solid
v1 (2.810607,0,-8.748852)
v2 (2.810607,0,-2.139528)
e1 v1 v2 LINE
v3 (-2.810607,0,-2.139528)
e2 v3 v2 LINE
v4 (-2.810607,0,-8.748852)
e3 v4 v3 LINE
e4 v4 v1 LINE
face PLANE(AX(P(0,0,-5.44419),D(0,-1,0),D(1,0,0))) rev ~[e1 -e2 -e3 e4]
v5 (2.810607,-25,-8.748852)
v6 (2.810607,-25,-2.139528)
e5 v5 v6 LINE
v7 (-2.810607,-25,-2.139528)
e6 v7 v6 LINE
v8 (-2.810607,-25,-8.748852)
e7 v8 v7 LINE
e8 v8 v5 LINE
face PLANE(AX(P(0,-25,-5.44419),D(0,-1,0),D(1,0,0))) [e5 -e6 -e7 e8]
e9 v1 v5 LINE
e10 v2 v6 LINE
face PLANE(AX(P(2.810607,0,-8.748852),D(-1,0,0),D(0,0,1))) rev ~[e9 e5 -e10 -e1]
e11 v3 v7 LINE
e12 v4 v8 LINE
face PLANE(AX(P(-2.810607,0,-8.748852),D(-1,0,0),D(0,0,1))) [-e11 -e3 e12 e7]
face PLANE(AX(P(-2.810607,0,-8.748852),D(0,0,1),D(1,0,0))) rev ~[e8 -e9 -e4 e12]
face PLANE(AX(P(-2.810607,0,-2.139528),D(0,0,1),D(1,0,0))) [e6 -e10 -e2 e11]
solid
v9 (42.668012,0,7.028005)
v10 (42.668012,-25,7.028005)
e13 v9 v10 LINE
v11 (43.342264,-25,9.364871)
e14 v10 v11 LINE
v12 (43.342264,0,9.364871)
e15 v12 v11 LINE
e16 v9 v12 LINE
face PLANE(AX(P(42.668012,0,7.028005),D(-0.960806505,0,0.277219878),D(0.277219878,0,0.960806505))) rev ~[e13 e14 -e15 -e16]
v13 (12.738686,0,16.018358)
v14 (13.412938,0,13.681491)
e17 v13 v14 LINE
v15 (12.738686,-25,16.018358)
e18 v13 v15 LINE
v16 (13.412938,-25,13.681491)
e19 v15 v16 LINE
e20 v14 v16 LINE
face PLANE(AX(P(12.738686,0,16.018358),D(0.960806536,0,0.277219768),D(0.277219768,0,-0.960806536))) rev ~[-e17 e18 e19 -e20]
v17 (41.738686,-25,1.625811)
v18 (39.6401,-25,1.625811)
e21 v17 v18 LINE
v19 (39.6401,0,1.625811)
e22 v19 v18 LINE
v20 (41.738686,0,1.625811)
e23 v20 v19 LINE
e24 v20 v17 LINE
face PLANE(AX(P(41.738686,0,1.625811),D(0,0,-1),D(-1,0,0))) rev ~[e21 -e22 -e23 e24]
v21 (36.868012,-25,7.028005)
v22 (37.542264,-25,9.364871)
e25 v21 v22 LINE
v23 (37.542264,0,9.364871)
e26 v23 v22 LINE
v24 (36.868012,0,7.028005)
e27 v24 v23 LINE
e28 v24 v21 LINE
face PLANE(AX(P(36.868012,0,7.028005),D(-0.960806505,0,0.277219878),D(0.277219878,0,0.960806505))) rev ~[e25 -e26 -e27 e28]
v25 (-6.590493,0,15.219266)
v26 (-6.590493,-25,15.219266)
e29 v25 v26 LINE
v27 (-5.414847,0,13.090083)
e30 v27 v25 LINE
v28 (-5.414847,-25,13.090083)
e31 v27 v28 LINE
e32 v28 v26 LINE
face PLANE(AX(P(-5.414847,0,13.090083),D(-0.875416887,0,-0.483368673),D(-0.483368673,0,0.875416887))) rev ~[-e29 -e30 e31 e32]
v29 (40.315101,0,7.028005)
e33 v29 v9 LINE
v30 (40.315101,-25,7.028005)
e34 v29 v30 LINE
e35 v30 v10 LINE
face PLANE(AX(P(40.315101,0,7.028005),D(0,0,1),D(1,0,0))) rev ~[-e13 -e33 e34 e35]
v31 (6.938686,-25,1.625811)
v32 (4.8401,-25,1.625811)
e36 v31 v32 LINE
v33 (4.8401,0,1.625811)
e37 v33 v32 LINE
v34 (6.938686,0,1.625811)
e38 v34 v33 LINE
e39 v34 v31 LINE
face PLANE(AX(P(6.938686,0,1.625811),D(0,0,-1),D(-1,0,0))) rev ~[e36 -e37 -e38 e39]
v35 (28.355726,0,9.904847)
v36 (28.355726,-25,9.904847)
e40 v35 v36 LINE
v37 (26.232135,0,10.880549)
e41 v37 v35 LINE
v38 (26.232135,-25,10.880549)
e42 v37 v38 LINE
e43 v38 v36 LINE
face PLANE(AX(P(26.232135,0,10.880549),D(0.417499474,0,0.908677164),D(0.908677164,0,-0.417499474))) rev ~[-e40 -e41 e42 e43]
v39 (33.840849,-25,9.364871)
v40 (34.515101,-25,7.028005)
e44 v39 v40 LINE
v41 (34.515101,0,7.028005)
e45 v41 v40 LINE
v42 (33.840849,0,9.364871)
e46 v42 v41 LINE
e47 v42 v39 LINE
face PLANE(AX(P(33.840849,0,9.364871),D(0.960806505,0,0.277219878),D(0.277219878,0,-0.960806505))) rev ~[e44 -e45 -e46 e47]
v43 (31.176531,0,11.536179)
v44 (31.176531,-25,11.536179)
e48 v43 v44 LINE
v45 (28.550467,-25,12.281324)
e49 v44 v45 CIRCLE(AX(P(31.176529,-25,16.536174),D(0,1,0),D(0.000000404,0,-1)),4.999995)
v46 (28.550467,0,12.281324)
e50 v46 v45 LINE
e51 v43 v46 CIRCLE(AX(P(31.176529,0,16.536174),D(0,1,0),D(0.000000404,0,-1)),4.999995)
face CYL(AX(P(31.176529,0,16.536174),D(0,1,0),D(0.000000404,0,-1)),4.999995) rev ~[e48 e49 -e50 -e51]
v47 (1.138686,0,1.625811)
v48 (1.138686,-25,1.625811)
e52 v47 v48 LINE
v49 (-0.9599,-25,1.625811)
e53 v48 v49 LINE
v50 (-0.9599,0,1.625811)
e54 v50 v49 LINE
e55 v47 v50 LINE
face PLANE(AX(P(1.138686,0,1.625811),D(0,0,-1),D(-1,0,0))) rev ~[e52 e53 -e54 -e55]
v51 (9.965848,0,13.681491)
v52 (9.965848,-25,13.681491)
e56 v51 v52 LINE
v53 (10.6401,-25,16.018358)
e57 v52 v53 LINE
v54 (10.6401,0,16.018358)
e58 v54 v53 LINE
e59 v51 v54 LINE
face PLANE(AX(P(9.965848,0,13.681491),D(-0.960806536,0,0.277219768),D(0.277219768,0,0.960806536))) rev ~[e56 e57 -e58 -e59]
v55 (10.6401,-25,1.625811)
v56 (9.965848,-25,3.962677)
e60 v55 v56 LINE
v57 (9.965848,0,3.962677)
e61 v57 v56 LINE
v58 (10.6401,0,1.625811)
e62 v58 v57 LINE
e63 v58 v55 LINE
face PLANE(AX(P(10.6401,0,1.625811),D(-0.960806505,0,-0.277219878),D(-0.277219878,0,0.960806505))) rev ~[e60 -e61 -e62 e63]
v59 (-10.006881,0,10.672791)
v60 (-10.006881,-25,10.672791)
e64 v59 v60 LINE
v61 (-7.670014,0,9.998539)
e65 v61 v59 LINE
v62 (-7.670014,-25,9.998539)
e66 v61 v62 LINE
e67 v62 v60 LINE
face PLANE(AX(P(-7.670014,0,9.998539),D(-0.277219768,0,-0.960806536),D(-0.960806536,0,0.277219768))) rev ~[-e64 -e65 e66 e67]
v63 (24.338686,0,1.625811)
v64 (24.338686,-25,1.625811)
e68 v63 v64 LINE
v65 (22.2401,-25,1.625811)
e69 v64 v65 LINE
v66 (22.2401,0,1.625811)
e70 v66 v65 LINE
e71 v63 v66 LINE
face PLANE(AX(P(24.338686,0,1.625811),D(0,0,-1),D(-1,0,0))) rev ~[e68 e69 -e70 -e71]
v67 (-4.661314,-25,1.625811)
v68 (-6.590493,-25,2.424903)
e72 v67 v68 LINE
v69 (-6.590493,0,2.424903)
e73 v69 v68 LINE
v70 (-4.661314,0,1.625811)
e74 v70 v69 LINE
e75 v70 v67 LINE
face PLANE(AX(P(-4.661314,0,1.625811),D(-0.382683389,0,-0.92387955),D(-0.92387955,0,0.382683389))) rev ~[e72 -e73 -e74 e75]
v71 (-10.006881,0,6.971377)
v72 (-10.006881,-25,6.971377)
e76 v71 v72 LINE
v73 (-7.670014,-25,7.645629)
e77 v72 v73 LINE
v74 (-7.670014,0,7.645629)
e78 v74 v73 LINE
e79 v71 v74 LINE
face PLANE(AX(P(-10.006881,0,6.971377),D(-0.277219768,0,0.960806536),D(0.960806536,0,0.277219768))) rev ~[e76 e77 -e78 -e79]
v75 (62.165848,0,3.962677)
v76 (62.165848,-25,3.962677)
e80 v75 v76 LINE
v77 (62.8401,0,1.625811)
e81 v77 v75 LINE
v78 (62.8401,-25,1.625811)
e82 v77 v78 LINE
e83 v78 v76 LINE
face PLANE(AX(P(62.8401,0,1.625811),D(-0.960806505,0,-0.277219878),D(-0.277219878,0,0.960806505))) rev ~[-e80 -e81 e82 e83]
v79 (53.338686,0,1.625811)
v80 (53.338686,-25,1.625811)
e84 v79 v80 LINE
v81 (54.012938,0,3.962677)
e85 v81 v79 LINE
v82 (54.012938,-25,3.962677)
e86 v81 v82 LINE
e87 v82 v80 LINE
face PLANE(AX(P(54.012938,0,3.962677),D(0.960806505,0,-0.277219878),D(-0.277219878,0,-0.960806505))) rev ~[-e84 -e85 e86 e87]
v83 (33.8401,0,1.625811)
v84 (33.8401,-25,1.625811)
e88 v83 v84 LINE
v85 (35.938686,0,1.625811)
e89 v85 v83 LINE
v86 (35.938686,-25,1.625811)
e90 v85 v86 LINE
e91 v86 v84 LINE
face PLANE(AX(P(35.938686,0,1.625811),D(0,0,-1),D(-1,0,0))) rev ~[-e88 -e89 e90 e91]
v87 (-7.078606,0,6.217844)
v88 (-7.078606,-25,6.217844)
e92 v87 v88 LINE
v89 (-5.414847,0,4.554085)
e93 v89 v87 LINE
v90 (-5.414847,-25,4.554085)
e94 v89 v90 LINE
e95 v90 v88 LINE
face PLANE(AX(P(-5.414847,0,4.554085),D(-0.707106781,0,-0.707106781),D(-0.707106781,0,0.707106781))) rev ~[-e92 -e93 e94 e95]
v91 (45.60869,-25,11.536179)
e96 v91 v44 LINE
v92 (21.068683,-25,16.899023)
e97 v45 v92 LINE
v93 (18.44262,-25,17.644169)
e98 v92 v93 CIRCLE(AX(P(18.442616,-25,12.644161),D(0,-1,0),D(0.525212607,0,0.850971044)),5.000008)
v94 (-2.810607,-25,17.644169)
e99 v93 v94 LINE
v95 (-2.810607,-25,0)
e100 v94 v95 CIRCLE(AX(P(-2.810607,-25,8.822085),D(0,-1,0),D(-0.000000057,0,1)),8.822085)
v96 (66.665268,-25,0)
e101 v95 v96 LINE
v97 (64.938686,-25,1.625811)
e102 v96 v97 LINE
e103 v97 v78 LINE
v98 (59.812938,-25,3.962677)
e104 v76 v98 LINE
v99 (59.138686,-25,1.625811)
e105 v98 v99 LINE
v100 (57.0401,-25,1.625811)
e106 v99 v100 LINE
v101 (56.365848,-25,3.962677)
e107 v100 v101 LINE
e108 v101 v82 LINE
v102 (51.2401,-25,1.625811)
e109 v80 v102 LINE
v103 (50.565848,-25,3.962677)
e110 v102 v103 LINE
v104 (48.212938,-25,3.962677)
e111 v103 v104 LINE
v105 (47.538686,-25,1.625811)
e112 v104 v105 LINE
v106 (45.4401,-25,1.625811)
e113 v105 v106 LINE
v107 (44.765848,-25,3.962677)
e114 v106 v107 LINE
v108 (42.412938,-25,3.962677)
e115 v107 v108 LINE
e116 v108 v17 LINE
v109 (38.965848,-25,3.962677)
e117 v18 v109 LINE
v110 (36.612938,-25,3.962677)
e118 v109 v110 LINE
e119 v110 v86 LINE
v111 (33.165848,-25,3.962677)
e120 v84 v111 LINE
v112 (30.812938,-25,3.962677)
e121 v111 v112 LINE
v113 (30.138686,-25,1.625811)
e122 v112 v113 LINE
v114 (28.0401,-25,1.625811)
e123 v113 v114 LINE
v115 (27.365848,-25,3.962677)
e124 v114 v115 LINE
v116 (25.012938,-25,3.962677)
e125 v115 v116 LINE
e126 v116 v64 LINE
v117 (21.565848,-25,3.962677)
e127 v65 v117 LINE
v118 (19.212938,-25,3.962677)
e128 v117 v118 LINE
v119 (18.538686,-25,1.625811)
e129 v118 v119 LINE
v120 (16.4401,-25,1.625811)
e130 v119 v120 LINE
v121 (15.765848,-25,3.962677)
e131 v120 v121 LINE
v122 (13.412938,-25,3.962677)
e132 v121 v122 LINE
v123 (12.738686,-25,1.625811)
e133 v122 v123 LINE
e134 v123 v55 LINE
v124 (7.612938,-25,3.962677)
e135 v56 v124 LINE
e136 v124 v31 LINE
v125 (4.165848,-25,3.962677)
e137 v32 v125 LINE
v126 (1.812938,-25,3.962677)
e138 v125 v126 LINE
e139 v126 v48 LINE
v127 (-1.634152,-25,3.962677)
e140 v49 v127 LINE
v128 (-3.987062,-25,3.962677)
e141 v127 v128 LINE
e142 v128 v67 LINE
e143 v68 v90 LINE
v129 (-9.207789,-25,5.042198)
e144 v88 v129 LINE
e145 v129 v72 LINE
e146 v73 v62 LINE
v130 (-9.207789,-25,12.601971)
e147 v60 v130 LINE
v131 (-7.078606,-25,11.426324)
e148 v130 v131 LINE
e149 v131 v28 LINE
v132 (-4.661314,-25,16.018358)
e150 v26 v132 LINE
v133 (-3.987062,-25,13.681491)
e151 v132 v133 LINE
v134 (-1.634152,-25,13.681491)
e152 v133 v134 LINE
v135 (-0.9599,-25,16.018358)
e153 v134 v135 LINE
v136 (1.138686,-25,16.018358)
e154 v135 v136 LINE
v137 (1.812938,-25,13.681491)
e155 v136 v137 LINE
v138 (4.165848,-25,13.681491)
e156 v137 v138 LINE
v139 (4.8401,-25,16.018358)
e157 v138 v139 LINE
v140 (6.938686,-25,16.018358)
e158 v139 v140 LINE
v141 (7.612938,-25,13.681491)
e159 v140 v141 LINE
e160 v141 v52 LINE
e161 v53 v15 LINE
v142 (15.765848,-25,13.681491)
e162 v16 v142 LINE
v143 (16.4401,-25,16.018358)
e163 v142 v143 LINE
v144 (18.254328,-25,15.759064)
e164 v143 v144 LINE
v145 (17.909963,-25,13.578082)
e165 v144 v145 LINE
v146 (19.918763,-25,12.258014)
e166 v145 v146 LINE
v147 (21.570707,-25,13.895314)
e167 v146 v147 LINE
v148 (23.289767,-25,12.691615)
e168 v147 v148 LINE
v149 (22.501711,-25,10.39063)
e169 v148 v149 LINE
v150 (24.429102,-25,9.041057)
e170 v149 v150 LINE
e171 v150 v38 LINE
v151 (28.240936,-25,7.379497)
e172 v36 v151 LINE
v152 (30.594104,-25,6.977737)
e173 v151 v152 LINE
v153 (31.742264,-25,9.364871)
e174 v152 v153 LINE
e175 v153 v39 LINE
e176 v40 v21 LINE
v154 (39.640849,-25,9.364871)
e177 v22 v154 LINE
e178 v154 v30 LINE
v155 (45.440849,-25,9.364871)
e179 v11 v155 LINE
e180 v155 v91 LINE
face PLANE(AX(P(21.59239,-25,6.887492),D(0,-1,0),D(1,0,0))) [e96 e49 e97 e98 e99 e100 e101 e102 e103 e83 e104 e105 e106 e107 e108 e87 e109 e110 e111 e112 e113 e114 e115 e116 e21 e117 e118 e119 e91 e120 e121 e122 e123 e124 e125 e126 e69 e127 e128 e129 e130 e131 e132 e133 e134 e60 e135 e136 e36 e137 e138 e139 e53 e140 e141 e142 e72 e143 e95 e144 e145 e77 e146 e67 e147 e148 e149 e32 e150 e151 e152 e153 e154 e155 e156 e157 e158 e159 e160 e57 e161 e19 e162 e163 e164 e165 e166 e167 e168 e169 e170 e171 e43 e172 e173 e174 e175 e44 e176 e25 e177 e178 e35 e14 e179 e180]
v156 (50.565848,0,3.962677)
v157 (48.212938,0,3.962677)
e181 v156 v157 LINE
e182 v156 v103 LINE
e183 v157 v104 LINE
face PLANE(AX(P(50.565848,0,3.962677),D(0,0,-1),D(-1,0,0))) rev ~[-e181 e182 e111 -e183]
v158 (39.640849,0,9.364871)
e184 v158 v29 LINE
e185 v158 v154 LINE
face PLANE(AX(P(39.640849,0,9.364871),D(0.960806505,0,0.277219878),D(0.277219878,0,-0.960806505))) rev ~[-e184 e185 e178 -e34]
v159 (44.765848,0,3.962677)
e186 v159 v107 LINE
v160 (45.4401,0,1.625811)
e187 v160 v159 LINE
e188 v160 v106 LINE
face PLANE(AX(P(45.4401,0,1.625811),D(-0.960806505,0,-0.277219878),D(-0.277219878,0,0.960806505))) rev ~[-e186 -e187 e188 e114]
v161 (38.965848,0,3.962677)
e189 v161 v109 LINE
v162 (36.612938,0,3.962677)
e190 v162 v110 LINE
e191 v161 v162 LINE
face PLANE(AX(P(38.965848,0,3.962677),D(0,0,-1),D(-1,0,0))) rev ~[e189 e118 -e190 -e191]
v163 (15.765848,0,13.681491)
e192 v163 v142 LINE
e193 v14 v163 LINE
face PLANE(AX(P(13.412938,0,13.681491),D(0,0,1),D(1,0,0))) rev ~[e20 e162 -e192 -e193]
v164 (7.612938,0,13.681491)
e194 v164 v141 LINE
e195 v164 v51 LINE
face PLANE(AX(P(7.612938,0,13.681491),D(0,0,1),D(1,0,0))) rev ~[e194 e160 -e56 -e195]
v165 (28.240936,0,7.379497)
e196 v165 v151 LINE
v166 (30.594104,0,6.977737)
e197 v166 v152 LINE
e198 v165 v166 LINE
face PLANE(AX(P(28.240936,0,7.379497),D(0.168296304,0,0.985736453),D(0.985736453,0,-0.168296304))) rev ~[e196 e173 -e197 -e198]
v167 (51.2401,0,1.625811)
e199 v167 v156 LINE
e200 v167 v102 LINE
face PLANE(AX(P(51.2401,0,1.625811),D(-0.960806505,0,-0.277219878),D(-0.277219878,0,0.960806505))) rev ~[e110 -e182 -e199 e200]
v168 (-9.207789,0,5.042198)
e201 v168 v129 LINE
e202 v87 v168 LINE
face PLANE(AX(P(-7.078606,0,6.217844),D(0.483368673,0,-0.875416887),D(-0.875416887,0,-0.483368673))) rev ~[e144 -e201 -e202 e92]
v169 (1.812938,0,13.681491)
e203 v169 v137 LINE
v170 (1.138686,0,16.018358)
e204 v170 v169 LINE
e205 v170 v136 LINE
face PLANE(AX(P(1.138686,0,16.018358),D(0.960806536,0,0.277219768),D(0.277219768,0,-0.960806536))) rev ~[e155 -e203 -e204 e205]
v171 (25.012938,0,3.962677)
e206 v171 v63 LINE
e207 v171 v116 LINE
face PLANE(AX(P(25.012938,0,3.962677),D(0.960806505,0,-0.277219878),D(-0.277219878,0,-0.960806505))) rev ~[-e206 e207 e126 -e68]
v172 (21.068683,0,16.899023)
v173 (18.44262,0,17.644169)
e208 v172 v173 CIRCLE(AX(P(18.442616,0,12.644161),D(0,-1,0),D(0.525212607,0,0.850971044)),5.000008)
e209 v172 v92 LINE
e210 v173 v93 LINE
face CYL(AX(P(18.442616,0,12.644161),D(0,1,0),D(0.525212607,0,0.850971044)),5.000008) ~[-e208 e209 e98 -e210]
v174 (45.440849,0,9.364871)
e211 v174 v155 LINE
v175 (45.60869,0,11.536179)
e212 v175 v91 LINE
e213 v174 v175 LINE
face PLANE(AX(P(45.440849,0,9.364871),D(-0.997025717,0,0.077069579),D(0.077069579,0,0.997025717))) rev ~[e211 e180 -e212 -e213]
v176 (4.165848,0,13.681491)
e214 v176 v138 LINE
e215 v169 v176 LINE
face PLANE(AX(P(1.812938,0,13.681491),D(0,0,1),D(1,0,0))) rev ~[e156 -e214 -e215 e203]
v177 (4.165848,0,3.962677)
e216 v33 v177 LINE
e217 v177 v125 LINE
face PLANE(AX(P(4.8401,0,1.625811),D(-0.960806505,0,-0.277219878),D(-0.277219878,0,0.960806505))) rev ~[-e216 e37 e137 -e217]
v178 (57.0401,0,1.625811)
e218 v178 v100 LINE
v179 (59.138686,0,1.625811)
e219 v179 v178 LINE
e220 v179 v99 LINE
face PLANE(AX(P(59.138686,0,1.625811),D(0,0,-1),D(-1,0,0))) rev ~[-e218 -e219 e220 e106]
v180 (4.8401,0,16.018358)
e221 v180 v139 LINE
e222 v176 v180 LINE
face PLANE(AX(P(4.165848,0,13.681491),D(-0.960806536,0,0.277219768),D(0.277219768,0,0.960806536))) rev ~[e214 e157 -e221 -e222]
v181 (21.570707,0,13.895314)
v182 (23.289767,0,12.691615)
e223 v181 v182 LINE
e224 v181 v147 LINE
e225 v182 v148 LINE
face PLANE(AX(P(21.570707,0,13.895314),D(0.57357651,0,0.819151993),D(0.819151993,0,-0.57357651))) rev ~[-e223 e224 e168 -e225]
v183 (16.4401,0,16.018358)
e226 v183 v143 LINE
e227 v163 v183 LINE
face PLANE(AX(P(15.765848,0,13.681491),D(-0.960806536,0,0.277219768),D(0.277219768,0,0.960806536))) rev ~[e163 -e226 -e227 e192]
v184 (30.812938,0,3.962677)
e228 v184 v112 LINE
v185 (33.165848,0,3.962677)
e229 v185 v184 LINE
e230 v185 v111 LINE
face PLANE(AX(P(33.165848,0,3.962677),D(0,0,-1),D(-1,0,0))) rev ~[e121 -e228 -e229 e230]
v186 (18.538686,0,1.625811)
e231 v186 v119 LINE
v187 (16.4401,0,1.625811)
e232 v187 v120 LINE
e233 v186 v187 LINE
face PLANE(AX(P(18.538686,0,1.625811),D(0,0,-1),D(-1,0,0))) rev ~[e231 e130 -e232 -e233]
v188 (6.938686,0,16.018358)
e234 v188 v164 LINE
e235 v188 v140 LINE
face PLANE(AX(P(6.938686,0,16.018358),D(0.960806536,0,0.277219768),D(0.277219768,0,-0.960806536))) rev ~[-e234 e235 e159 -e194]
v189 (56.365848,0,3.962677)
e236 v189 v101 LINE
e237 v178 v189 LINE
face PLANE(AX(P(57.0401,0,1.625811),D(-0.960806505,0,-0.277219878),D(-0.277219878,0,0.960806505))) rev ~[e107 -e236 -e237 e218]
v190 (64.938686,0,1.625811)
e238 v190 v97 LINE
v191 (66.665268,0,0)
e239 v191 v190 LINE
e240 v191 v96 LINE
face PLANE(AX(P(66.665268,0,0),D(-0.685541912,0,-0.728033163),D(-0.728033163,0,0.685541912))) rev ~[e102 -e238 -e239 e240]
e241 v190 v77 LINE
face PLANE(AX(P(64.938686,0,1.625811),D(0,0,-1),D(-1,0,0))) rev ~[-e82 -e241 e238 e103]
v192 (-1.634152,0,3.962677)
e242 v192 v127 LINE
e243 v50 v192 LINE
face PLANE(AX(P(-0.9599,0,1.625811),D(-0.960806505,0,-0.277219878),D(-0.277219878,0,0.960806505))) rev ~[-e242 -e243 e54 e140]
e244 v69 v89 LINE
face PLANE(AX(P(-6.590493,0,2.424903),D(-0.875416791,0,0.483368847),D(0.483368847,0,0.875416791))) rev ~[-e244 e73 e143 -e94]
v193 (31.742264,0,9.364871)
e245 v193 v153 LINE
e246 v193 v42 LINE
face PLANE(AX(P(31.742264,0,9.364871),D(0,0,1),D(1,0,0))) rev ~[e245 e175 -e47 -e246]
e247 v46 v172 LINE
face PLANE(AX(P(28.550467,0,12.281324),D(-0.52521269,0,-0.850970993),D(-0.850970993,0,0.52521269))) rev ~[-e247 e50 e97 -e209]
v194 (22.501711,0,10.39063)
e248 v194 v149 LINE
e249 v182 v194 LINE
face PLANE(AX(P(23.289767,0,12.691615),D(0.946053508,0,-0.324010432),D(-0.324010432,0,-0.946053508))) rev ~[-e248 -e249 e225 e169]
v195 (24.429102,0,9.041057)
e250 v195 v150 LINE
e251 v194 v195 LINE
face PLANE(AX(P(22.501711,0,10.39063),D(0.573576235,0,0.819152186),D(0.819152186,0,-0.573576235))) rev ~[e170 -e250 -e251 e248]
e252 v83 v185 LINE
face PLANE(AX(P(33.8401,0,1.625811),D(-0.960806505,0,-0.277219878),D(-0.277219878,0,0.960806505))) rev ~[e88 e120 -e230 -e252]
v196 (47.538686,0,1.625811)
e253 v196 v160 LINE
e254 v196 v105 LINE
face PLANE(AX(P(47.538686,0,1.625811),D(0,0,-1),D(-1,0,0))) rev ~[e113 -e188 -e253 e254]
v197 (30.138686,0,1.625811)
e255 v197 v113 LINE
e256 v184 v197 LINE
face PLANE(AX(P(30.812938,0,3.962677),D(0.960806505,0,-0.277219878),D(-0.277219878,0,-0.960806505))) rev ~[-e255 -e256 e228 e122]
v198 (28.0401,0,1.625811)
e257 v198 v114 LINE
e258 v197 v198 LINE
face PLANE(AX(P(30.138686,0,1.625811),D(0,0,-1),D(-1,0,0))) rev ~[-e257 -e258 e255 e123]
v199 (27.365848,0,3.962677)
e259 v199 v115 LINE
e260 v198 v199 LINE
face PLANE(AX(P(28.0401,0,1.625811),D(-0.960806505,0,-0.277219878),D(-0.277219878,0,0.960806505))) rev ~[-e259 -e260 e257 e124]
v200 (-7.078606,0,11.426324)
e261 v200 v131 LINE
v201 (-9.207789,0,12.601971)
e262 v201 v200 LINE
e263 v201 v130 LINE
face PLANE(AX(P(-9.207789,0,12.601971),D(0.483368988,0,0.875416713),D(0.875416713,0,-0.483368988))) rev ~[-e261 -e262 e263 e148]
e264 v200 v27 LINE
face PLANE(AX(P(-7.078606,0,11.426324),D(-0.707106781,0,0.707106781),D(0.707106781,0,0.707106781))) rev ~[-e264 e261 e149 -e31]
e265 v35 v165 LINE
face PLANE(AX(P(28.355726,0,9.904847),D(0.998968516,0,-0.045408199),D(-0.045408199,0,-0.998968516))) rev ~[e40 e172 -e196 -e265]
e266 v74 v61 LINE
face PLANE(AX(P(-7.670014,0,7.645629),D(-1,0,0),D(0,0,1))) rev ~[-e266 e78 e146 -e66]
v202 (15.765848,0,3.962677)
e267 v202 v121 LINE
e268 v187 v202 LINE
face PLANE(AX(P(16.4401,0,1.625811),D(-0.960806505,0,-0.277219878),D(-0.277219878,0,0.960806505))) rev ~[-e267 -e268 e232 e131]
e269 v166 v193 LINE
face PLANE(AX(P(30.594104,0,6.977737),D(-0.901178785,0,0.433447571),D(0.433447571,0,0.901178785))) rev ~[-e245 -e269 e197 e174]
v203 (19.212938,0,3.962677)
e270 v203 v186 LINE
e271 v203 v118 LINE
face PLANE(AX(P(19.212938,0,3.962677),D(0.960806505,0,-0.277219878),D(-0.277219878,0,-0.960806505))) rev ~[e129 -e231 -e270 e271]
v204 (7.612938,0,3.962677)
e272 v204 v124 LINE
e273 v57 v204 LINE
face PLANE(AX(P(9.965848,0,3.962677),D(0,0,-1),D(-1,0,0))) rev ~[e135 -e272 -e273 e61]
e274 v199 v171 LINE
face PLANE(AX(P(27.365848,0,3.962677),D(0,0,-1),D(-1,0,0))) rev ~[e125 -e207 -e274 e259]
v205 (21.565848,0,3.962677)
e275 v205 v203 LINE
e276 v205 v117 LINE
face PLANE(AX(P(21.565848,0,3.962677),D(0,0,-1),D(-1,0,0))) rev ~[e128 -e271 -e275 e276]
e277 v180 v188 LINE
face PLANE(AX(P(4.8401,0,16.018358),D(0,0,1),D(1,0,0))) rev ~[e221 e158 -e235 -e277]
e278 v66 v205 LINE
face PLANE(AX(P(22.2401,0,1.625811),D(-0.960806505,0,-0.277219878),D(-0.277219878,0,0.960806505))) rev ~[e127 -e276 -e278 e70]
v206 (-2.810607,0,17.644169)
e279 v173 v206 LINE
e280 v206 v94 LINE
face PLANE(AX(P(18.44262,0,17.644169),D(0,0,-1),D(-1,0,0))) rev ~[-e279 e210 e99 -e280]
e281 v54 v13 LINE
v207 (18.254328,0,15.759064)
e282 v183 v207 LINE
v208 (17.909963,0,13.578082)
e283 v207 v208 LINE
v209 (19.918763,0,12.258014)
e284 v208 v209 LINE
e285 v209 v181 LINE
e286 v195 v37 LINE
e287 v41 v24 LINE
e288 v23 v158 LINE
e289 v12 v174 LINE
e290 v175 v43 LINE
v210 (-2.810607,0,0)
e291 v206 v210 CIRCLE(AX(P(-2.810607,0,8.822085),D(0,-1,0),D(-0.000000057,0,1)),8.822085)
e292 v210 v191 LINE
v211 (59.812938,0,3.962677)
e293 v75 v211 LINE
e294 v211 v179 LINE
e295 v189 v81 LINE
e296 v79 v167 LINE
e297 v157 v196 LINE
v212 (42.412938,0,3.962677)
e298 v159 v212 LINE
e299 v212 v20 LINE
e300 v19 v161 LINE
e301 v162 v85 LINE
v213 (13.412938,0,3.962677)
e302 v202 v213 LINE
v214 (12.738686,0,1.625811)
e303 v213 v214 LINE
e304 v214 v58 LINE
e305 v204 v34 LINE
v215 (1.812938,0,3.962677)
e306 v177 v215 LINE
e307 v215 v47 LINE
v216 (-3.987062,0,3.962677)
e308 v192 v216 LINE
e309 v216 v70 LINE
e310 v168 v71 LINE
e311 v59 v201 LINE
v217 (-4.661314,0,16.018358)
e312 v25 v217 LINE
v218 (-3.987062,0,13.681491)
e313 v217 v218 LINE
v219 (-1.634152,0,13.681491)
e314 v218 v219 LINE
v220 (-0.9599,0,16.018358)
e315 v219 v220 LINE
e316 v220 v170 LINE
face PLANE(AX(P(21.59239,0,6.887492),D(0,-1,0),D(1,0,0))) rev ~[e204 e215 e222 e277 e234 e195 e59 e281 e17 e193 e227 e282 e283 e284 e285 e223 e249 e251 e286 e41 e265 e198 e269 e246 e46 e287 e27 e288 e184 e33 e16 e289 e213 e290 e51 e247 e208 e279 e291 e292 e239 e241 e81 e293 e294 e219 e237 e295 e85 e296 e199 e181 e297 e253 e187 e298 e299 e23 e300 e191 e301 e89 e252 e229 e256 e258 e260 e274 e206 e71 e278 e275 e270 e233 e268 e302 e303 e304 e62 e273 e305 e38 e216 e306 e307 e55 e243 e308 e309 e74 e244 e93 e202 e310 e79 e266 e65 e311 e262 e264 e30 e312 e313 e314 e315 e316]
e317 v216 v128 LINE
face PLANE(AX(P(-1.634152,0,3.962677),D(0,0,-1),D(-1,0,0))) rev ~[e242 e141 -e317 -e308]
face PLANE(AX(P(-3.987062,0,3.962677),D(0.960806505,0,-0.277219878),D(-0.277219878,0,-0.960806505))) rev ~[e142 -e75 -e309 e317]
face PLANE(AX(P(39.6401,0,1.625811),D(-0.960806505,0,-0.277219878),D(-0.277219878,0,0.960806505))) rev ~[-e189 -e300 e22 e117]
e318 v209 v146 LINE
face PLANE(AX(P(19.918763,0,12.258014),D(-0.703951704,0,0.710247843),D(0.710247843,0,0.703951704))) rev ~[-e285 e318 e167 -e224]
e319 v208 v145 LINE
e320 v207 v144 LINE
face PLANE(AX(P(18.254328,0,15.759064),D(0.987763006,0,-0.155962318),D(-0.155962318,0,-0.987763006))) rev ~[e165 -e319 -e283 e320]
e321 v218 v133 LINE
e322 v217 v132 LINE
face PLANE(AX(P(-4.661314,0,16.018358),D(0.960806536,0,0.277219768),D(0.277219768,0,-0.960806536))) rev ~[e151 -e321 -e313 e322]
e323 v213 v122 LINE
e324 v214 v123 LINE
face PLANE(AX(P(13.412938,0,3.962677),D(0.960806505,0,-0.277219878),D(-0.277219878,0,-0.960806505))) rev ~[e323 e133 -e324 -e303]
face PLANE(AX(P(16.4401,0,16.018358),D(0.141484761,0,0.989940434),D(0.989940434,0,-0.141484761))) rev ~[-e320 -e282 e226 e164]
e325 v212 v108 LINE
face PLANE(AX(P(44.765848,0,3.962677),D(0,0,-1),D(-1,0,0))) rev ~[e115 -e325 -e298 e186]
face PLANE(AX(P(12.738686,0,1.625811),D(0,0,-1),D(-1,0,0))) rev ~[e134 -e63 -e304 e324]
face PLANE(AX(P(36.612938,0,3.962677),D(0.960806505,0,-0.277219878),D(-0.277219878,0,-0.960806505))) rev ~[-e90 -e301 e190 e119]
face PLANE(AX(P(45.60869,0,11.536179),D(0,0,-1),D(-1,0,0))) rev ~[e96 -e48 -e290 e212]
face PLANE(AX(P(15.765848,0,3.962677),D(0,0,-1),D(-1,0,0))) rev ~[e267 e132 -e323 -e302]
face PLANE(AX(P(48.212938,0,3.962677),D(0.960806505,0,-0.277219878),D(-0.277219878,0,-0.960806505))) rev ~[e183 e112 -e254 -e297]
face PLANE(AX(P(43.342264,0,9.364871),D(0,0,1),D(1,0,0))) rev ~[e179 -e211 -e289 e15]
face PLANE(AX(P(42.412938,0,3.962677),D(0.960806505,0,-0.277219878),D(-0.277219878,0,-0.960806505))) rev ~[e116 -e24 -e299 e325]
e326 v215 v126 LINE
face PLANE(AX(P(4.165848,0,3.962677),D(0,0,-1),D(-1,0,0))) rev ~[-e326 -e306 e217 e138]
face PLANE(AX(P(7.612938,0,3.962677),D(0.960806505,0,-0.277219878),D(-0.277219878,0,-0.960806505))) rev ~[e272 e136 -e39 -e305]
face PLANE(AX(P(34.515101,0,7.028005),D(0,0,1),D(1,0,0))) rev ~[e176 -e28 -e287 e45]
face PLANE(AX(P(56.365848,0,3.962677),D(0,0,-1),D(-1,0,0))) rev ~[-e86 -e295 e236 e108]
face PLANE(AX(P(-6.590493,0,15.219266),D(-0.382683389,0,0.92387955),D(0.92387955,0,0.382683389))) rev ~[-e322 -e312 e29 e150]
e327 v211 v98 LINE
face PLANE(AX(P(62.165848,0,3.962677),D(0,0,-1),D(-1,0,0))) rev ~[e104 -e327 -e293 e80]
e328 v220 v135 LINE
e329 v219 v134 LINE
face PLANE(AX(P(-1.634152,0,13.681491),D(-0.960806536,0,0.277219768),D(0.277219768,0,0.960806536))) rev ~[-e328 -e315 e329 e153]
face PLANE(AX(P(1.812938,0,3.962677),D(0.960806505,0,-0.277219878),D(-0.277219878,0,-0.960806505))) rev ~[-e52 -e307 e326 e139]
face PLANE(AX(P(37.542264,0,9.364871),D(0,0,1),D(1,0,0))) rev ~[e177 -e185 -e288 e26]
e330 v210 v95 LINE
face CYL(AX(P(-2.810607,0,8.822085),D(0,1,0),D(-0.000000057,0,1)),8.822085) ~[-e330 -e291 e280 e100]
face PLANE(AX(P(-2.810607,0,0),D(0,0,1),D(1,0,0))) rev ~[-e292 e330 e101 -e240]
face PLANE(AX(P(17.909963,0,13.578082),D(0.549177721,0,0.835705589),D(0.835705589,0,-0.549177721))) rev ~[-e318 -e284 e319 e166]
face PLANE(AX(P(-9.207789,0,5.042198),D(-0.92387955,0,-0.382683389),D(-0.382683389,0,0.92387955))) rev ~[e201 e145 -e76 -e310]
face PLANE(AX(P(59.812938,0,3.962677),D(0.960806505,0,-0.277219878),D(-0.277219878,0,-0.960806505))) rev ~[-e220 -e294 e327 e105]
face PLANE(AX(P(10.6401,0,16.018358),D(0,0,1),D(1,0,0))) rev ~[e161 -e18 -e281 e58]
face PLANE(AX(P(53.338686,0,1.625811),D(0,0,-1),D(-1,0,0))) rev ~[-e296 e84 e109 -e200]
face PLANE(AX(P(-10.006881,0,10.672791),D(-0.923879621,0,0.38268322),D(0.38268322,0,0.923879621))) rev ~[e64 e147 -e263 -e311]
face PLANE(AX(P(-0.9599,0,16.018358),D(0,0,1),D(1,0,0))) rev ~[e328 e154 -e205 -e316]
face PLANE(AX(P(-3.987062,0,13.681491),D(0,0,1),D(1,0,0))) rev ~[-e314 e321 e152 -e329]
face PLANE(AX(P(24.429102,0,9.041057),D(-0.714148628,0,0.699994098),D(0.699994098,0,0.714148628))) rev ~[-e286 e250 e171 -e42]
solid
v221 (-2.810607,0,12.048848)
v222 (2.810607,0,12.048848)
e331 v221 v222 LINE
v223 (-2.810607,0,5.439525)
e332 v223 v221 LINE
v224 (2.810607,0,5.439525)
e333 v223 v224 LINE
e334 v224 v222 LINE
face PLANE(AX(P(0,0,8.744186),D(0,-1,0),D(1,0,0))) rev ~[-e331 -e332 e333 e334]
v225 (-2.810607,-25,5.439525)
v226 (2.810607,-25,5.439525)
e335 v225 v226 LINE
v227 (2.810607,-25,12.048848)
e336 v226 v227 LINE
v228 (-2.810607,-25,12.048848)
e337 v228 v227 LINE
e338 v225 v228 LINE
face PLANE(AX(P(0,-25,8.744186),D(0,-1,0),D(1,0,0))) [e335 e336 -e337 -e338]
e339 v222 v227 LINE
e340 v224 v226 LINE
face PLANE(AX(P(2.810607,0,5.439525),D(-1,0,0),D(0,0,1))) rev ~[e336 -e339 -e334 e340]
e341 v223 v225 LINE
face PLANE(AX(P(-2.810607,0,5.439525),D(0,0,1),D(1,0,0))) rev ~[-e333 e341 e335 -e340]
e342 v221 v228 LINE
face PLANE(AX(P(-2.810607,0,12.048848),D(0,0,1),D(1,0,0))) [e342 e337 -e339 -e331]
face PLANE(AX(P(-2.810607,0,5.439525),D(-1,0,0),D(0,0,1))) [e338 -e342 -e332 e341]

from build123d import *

# Parameters (mm, degrees)
F0_W     = 5.621214
F0_H     = 6.609323
F1_DEPTH = 25


with BuildPart() as f1:
    # F0 (on Front) → F1 (new body)
    with BuildSketch(Plane.XZ):
        with Locations((0, 8.744186)):
            Rectangle(F0_W, F0_H)
        with Locations((0, -5.44419)):
            Rectangle(F0_W, F0_H)
        with BuildLine():
            Line((18.44262, 17.644169), (-2.810607, 17.644169))
            ThreePointArc((-2.810607, 17.644169), (-11.632691, 8.822084), (-2.810607, 0))
            Line((-2.810607, 0), (66.665268, 0))
            Line((66.665268, 0), (64.938686, 1.625811))
            Line((64.938686, 1.625811), (62.8401, 1.625811))
            Line((62.8401, 1.625811), (62.165848, 3.962677))
            Line((62.165848, 3.962677), (59.812938, 3.962677))
            Line((59.812938, 3.962677), (59.138686, 1.625811))
            Line((59.138686, 1.625811), (57.0401, 1.625811))
            Line((57.0401, 1.625811), (56.365848, 3.962677))
            Line((56.365848, 3.962677), (54.012938, 3.962677))
            Line((54.012938, 3.962677), (53.338686, 1.625811))
            Line((53.338686, 1.625811), (51.2401, 1.625811))
            Line((51.2401, 1.625811), (50.565848, 3.962677))
            Line((50.565848, 3.962677), (48.212938, 3.962677))
            Line((48.212938, 3.962677), (47.538686, 1.625811))
            Line((47.538686, 1.625811), (45.4401, 1.625811))
            Line((45.4401, 1.625811), (44.765848, 3.962677))
            Line((44.765848, 3.962677), (42.412938, 3.962677))
            Line((42.412938, 3.962677), (41.738686, 1.625811))
            Line((41.738686, 1.625811), (39.6401, 1.625811))
            Line((39.6401, 1.625811), (38.965848, 3.962677))
            Line((38.965848, 3.962677), (36.612938, 3.962677))
            Line((36.612938, 3.962677), (35.938686, 1.625811))
            Line((35.938686, 1.625811), (33.8401, 1.625811))
            Line((33.8401, 1.625811), (33.165848, 3.962677))
            Line((33.165848, 3.962677), (30.812938, 3.962677))
            Line((30.812938, 3.962677), (30.138686, 1.625811))
            Line((30.138686, 1.625811), (28.0401, 1.625811))
            Line((28.0401, 1.625811), (27.365848, 3.962677))
            Line((27.365848, 3.962677), (25.012938, 3.962677))
            Line((25.012938, 3.962677), (24.338686, 1.625811))
            Line((24.338686, 1.625811), (22.2401, 1.625811))
            Line((22.2401, 1.625811), (21.565848, 3.962677))
            Line((21.565848, 3.962677), (19.212938, 3.962677))
            Line((19.212938, 3.962677), (18.538686, 1.625811))
            Line((18.538686, 1.625811), (16.4401, 1.625811))
            Line((16.4401, 1.625811), (15.765848, 3.962677))
            Line((15.765848, 3.962677), (13.412938, 3.962677))
            Line((13.412938, 3.962677), (12.738686, 1.625811))
            Line((12.738686, 1.625811), (10.6401, 1.625811))
            Line((10.6401, 1.625811), (9.965848, 3.962677))
            Line((9.965848, 3.962677), (7.612938, 3.962677))
            Line((7.612938, 3.962677), (6.938686, 1.625811))
            Line((6.938686, 1.625811), (4.8401, 1.625811))
            Line((4.8401, 1.625811), (4.165848, 3.962677))
            Line((4.165848, 3.962677), (1.812938, 3.962677))
            Line((1.812938, 3.962677), (1.138686, 1.625811))
            Line((1.138686, 1.625811), (-0.9599, 1.625811))
            Line((-0.9599, 1.625811), (-1.634152, 3.962677))
            Line((-1.634152, 3.962677), (-3.987062, 3.962677))
            Line((-3.987062, 3.962677), (-4.661314, 1.625811))
            Line((-4.661314, 1.625811), (-6.590493, 2.424903))
            Line((-6.590493, 2.424903), (-5.414847, 4.554085))
            Line((-5.414847, 4.554085), (-7.078606, 6.217844))
            Line((-7.078606, 6.217844), (-9.207789, 5.042198))
            Line((-9.207789, 5.042198), (-10.006881, 6.971377))
            Line((-10.006881, 6.971377), (-7.670014, 7.645629))
            Line((-7.670014, 7.645629), (-7.670014, 9.998539))
            Line((-7.670014, 9.998539), (-10.006881, 10.672791))
            Line((-10.006881, 10.672791), (-9.207789, 12.601971))
            Line((-9.207789, 12.601971), (-7.078606, 11.426324))
            Line((-7.078606, 11.426324), (-5.414847, 13.090083))
            Line((-5.414847, 13.090083), (-6.590493, 15.219266))
            Line((-6.590493, 15.219266), (-4.661314, 16.018358))
            Line((-4.661314, 16.018358), (-3.987062, 13.681491))
            Line((-3.987062, 13.681491), (-1.634152, 13.681491))
            Line((-1.634152, 13.681491), (-0.9599, 16.018358))
            Line((-0.9599, 16.018358), (1.138686, 16.018358))
            Line((1.138686, 16.018358), (1.812938, 13.681491))
            Line((1.812938, 13.681491), (4.165848, 13.681491))
            Line((4.165848, 13.681491), (4.8401, 16.018358))
            Line((4.8401, 16.018358), (6.938686, 16.018358))
            Line((6.938686, 16.018358), (7.612938, 13.681491))
            Line((7.612938, 13.681491), (9.965848, 13.681491))
            Line((9.965848, 13.681491), (10.6401, 16.018358))
            Line((10.6401, 16.018358), (12.738686, 16.018358))
            Line((12.738686, 16.018358), (13.412938, 13.681491))
            Line((13.412938, 13.681491), (15.765848, 13.681491))
            Line((15.765848, 13.681491), (16.4401, 16.018358))
            Line((16.4401, 16.018358), (18.254328, 15.759064))
            Line((18.254328, 15.759064), (17.909963, 13.578082))
            Line((17.909963, 13.578082), (19.918763, 12.258014))
            Line((19.918763, 12.258014), (21.570707, 13.895314))
            Line((21.570707, 13.895314), (23.289767, 12.691615))
            Line((23.289767, 12.691615), (22.501711, 10.39063))
            Line((22.501711, 10.39063), (24.429102, 9.041057))
            Line((24.429102, 9.041057), (26.232135, 10.880549))
            Line((26.232135, 10.880549), (28.355726, 9.904847))
            Line((28.355726, 9.904847), (28.240936, 7.379497))
            Line((28.240936, 7.379497), (30.594104, 6.977737))
            Line((30.594104, 6.977737), (31.742264, 9.364871))
            Line((31.742264, 9.364871), (33.840849, 9.364871))
            Line((33.840849, 9.364871), (34.515101, 7.028005))
            Line((34.515101, 7.028005), (36.868012, 7.028005))
            Line((36.868012, 7.028005), (37.542264, 9.364871))
            Line((37.542264, 9.364871), (39.640849, 9.364871))
            Line((39.640849, 9.364871), (40.315101, 7.028005))
            Line((40.315101, 7.028005), (42.668012, 7.028005))
            Line((42.668012, 7.028005), (43.342264, 9.364871))
            Line((43.342264, 9.364871), (45.440849, 9.364871))
            Line((45.440849, 9.364871), (45.60869, 11.536179))
            Line((45.60869, 11.536179), (31.176531, 11.536179))
            ThreePointArc((31.176531, 11.536179), (29.811663, 11.726071), (28.550467, 12.281324))
            Line((28.550467, 12.281324), (21.068683, 16.899023))
            ThreePointArc((21.068683, 16.899023), (19.807487, 17.454276), (18.44262, 17.644169))
        make_face()
    extrude(amount=F1_DEPTH)


solid = f1.part
